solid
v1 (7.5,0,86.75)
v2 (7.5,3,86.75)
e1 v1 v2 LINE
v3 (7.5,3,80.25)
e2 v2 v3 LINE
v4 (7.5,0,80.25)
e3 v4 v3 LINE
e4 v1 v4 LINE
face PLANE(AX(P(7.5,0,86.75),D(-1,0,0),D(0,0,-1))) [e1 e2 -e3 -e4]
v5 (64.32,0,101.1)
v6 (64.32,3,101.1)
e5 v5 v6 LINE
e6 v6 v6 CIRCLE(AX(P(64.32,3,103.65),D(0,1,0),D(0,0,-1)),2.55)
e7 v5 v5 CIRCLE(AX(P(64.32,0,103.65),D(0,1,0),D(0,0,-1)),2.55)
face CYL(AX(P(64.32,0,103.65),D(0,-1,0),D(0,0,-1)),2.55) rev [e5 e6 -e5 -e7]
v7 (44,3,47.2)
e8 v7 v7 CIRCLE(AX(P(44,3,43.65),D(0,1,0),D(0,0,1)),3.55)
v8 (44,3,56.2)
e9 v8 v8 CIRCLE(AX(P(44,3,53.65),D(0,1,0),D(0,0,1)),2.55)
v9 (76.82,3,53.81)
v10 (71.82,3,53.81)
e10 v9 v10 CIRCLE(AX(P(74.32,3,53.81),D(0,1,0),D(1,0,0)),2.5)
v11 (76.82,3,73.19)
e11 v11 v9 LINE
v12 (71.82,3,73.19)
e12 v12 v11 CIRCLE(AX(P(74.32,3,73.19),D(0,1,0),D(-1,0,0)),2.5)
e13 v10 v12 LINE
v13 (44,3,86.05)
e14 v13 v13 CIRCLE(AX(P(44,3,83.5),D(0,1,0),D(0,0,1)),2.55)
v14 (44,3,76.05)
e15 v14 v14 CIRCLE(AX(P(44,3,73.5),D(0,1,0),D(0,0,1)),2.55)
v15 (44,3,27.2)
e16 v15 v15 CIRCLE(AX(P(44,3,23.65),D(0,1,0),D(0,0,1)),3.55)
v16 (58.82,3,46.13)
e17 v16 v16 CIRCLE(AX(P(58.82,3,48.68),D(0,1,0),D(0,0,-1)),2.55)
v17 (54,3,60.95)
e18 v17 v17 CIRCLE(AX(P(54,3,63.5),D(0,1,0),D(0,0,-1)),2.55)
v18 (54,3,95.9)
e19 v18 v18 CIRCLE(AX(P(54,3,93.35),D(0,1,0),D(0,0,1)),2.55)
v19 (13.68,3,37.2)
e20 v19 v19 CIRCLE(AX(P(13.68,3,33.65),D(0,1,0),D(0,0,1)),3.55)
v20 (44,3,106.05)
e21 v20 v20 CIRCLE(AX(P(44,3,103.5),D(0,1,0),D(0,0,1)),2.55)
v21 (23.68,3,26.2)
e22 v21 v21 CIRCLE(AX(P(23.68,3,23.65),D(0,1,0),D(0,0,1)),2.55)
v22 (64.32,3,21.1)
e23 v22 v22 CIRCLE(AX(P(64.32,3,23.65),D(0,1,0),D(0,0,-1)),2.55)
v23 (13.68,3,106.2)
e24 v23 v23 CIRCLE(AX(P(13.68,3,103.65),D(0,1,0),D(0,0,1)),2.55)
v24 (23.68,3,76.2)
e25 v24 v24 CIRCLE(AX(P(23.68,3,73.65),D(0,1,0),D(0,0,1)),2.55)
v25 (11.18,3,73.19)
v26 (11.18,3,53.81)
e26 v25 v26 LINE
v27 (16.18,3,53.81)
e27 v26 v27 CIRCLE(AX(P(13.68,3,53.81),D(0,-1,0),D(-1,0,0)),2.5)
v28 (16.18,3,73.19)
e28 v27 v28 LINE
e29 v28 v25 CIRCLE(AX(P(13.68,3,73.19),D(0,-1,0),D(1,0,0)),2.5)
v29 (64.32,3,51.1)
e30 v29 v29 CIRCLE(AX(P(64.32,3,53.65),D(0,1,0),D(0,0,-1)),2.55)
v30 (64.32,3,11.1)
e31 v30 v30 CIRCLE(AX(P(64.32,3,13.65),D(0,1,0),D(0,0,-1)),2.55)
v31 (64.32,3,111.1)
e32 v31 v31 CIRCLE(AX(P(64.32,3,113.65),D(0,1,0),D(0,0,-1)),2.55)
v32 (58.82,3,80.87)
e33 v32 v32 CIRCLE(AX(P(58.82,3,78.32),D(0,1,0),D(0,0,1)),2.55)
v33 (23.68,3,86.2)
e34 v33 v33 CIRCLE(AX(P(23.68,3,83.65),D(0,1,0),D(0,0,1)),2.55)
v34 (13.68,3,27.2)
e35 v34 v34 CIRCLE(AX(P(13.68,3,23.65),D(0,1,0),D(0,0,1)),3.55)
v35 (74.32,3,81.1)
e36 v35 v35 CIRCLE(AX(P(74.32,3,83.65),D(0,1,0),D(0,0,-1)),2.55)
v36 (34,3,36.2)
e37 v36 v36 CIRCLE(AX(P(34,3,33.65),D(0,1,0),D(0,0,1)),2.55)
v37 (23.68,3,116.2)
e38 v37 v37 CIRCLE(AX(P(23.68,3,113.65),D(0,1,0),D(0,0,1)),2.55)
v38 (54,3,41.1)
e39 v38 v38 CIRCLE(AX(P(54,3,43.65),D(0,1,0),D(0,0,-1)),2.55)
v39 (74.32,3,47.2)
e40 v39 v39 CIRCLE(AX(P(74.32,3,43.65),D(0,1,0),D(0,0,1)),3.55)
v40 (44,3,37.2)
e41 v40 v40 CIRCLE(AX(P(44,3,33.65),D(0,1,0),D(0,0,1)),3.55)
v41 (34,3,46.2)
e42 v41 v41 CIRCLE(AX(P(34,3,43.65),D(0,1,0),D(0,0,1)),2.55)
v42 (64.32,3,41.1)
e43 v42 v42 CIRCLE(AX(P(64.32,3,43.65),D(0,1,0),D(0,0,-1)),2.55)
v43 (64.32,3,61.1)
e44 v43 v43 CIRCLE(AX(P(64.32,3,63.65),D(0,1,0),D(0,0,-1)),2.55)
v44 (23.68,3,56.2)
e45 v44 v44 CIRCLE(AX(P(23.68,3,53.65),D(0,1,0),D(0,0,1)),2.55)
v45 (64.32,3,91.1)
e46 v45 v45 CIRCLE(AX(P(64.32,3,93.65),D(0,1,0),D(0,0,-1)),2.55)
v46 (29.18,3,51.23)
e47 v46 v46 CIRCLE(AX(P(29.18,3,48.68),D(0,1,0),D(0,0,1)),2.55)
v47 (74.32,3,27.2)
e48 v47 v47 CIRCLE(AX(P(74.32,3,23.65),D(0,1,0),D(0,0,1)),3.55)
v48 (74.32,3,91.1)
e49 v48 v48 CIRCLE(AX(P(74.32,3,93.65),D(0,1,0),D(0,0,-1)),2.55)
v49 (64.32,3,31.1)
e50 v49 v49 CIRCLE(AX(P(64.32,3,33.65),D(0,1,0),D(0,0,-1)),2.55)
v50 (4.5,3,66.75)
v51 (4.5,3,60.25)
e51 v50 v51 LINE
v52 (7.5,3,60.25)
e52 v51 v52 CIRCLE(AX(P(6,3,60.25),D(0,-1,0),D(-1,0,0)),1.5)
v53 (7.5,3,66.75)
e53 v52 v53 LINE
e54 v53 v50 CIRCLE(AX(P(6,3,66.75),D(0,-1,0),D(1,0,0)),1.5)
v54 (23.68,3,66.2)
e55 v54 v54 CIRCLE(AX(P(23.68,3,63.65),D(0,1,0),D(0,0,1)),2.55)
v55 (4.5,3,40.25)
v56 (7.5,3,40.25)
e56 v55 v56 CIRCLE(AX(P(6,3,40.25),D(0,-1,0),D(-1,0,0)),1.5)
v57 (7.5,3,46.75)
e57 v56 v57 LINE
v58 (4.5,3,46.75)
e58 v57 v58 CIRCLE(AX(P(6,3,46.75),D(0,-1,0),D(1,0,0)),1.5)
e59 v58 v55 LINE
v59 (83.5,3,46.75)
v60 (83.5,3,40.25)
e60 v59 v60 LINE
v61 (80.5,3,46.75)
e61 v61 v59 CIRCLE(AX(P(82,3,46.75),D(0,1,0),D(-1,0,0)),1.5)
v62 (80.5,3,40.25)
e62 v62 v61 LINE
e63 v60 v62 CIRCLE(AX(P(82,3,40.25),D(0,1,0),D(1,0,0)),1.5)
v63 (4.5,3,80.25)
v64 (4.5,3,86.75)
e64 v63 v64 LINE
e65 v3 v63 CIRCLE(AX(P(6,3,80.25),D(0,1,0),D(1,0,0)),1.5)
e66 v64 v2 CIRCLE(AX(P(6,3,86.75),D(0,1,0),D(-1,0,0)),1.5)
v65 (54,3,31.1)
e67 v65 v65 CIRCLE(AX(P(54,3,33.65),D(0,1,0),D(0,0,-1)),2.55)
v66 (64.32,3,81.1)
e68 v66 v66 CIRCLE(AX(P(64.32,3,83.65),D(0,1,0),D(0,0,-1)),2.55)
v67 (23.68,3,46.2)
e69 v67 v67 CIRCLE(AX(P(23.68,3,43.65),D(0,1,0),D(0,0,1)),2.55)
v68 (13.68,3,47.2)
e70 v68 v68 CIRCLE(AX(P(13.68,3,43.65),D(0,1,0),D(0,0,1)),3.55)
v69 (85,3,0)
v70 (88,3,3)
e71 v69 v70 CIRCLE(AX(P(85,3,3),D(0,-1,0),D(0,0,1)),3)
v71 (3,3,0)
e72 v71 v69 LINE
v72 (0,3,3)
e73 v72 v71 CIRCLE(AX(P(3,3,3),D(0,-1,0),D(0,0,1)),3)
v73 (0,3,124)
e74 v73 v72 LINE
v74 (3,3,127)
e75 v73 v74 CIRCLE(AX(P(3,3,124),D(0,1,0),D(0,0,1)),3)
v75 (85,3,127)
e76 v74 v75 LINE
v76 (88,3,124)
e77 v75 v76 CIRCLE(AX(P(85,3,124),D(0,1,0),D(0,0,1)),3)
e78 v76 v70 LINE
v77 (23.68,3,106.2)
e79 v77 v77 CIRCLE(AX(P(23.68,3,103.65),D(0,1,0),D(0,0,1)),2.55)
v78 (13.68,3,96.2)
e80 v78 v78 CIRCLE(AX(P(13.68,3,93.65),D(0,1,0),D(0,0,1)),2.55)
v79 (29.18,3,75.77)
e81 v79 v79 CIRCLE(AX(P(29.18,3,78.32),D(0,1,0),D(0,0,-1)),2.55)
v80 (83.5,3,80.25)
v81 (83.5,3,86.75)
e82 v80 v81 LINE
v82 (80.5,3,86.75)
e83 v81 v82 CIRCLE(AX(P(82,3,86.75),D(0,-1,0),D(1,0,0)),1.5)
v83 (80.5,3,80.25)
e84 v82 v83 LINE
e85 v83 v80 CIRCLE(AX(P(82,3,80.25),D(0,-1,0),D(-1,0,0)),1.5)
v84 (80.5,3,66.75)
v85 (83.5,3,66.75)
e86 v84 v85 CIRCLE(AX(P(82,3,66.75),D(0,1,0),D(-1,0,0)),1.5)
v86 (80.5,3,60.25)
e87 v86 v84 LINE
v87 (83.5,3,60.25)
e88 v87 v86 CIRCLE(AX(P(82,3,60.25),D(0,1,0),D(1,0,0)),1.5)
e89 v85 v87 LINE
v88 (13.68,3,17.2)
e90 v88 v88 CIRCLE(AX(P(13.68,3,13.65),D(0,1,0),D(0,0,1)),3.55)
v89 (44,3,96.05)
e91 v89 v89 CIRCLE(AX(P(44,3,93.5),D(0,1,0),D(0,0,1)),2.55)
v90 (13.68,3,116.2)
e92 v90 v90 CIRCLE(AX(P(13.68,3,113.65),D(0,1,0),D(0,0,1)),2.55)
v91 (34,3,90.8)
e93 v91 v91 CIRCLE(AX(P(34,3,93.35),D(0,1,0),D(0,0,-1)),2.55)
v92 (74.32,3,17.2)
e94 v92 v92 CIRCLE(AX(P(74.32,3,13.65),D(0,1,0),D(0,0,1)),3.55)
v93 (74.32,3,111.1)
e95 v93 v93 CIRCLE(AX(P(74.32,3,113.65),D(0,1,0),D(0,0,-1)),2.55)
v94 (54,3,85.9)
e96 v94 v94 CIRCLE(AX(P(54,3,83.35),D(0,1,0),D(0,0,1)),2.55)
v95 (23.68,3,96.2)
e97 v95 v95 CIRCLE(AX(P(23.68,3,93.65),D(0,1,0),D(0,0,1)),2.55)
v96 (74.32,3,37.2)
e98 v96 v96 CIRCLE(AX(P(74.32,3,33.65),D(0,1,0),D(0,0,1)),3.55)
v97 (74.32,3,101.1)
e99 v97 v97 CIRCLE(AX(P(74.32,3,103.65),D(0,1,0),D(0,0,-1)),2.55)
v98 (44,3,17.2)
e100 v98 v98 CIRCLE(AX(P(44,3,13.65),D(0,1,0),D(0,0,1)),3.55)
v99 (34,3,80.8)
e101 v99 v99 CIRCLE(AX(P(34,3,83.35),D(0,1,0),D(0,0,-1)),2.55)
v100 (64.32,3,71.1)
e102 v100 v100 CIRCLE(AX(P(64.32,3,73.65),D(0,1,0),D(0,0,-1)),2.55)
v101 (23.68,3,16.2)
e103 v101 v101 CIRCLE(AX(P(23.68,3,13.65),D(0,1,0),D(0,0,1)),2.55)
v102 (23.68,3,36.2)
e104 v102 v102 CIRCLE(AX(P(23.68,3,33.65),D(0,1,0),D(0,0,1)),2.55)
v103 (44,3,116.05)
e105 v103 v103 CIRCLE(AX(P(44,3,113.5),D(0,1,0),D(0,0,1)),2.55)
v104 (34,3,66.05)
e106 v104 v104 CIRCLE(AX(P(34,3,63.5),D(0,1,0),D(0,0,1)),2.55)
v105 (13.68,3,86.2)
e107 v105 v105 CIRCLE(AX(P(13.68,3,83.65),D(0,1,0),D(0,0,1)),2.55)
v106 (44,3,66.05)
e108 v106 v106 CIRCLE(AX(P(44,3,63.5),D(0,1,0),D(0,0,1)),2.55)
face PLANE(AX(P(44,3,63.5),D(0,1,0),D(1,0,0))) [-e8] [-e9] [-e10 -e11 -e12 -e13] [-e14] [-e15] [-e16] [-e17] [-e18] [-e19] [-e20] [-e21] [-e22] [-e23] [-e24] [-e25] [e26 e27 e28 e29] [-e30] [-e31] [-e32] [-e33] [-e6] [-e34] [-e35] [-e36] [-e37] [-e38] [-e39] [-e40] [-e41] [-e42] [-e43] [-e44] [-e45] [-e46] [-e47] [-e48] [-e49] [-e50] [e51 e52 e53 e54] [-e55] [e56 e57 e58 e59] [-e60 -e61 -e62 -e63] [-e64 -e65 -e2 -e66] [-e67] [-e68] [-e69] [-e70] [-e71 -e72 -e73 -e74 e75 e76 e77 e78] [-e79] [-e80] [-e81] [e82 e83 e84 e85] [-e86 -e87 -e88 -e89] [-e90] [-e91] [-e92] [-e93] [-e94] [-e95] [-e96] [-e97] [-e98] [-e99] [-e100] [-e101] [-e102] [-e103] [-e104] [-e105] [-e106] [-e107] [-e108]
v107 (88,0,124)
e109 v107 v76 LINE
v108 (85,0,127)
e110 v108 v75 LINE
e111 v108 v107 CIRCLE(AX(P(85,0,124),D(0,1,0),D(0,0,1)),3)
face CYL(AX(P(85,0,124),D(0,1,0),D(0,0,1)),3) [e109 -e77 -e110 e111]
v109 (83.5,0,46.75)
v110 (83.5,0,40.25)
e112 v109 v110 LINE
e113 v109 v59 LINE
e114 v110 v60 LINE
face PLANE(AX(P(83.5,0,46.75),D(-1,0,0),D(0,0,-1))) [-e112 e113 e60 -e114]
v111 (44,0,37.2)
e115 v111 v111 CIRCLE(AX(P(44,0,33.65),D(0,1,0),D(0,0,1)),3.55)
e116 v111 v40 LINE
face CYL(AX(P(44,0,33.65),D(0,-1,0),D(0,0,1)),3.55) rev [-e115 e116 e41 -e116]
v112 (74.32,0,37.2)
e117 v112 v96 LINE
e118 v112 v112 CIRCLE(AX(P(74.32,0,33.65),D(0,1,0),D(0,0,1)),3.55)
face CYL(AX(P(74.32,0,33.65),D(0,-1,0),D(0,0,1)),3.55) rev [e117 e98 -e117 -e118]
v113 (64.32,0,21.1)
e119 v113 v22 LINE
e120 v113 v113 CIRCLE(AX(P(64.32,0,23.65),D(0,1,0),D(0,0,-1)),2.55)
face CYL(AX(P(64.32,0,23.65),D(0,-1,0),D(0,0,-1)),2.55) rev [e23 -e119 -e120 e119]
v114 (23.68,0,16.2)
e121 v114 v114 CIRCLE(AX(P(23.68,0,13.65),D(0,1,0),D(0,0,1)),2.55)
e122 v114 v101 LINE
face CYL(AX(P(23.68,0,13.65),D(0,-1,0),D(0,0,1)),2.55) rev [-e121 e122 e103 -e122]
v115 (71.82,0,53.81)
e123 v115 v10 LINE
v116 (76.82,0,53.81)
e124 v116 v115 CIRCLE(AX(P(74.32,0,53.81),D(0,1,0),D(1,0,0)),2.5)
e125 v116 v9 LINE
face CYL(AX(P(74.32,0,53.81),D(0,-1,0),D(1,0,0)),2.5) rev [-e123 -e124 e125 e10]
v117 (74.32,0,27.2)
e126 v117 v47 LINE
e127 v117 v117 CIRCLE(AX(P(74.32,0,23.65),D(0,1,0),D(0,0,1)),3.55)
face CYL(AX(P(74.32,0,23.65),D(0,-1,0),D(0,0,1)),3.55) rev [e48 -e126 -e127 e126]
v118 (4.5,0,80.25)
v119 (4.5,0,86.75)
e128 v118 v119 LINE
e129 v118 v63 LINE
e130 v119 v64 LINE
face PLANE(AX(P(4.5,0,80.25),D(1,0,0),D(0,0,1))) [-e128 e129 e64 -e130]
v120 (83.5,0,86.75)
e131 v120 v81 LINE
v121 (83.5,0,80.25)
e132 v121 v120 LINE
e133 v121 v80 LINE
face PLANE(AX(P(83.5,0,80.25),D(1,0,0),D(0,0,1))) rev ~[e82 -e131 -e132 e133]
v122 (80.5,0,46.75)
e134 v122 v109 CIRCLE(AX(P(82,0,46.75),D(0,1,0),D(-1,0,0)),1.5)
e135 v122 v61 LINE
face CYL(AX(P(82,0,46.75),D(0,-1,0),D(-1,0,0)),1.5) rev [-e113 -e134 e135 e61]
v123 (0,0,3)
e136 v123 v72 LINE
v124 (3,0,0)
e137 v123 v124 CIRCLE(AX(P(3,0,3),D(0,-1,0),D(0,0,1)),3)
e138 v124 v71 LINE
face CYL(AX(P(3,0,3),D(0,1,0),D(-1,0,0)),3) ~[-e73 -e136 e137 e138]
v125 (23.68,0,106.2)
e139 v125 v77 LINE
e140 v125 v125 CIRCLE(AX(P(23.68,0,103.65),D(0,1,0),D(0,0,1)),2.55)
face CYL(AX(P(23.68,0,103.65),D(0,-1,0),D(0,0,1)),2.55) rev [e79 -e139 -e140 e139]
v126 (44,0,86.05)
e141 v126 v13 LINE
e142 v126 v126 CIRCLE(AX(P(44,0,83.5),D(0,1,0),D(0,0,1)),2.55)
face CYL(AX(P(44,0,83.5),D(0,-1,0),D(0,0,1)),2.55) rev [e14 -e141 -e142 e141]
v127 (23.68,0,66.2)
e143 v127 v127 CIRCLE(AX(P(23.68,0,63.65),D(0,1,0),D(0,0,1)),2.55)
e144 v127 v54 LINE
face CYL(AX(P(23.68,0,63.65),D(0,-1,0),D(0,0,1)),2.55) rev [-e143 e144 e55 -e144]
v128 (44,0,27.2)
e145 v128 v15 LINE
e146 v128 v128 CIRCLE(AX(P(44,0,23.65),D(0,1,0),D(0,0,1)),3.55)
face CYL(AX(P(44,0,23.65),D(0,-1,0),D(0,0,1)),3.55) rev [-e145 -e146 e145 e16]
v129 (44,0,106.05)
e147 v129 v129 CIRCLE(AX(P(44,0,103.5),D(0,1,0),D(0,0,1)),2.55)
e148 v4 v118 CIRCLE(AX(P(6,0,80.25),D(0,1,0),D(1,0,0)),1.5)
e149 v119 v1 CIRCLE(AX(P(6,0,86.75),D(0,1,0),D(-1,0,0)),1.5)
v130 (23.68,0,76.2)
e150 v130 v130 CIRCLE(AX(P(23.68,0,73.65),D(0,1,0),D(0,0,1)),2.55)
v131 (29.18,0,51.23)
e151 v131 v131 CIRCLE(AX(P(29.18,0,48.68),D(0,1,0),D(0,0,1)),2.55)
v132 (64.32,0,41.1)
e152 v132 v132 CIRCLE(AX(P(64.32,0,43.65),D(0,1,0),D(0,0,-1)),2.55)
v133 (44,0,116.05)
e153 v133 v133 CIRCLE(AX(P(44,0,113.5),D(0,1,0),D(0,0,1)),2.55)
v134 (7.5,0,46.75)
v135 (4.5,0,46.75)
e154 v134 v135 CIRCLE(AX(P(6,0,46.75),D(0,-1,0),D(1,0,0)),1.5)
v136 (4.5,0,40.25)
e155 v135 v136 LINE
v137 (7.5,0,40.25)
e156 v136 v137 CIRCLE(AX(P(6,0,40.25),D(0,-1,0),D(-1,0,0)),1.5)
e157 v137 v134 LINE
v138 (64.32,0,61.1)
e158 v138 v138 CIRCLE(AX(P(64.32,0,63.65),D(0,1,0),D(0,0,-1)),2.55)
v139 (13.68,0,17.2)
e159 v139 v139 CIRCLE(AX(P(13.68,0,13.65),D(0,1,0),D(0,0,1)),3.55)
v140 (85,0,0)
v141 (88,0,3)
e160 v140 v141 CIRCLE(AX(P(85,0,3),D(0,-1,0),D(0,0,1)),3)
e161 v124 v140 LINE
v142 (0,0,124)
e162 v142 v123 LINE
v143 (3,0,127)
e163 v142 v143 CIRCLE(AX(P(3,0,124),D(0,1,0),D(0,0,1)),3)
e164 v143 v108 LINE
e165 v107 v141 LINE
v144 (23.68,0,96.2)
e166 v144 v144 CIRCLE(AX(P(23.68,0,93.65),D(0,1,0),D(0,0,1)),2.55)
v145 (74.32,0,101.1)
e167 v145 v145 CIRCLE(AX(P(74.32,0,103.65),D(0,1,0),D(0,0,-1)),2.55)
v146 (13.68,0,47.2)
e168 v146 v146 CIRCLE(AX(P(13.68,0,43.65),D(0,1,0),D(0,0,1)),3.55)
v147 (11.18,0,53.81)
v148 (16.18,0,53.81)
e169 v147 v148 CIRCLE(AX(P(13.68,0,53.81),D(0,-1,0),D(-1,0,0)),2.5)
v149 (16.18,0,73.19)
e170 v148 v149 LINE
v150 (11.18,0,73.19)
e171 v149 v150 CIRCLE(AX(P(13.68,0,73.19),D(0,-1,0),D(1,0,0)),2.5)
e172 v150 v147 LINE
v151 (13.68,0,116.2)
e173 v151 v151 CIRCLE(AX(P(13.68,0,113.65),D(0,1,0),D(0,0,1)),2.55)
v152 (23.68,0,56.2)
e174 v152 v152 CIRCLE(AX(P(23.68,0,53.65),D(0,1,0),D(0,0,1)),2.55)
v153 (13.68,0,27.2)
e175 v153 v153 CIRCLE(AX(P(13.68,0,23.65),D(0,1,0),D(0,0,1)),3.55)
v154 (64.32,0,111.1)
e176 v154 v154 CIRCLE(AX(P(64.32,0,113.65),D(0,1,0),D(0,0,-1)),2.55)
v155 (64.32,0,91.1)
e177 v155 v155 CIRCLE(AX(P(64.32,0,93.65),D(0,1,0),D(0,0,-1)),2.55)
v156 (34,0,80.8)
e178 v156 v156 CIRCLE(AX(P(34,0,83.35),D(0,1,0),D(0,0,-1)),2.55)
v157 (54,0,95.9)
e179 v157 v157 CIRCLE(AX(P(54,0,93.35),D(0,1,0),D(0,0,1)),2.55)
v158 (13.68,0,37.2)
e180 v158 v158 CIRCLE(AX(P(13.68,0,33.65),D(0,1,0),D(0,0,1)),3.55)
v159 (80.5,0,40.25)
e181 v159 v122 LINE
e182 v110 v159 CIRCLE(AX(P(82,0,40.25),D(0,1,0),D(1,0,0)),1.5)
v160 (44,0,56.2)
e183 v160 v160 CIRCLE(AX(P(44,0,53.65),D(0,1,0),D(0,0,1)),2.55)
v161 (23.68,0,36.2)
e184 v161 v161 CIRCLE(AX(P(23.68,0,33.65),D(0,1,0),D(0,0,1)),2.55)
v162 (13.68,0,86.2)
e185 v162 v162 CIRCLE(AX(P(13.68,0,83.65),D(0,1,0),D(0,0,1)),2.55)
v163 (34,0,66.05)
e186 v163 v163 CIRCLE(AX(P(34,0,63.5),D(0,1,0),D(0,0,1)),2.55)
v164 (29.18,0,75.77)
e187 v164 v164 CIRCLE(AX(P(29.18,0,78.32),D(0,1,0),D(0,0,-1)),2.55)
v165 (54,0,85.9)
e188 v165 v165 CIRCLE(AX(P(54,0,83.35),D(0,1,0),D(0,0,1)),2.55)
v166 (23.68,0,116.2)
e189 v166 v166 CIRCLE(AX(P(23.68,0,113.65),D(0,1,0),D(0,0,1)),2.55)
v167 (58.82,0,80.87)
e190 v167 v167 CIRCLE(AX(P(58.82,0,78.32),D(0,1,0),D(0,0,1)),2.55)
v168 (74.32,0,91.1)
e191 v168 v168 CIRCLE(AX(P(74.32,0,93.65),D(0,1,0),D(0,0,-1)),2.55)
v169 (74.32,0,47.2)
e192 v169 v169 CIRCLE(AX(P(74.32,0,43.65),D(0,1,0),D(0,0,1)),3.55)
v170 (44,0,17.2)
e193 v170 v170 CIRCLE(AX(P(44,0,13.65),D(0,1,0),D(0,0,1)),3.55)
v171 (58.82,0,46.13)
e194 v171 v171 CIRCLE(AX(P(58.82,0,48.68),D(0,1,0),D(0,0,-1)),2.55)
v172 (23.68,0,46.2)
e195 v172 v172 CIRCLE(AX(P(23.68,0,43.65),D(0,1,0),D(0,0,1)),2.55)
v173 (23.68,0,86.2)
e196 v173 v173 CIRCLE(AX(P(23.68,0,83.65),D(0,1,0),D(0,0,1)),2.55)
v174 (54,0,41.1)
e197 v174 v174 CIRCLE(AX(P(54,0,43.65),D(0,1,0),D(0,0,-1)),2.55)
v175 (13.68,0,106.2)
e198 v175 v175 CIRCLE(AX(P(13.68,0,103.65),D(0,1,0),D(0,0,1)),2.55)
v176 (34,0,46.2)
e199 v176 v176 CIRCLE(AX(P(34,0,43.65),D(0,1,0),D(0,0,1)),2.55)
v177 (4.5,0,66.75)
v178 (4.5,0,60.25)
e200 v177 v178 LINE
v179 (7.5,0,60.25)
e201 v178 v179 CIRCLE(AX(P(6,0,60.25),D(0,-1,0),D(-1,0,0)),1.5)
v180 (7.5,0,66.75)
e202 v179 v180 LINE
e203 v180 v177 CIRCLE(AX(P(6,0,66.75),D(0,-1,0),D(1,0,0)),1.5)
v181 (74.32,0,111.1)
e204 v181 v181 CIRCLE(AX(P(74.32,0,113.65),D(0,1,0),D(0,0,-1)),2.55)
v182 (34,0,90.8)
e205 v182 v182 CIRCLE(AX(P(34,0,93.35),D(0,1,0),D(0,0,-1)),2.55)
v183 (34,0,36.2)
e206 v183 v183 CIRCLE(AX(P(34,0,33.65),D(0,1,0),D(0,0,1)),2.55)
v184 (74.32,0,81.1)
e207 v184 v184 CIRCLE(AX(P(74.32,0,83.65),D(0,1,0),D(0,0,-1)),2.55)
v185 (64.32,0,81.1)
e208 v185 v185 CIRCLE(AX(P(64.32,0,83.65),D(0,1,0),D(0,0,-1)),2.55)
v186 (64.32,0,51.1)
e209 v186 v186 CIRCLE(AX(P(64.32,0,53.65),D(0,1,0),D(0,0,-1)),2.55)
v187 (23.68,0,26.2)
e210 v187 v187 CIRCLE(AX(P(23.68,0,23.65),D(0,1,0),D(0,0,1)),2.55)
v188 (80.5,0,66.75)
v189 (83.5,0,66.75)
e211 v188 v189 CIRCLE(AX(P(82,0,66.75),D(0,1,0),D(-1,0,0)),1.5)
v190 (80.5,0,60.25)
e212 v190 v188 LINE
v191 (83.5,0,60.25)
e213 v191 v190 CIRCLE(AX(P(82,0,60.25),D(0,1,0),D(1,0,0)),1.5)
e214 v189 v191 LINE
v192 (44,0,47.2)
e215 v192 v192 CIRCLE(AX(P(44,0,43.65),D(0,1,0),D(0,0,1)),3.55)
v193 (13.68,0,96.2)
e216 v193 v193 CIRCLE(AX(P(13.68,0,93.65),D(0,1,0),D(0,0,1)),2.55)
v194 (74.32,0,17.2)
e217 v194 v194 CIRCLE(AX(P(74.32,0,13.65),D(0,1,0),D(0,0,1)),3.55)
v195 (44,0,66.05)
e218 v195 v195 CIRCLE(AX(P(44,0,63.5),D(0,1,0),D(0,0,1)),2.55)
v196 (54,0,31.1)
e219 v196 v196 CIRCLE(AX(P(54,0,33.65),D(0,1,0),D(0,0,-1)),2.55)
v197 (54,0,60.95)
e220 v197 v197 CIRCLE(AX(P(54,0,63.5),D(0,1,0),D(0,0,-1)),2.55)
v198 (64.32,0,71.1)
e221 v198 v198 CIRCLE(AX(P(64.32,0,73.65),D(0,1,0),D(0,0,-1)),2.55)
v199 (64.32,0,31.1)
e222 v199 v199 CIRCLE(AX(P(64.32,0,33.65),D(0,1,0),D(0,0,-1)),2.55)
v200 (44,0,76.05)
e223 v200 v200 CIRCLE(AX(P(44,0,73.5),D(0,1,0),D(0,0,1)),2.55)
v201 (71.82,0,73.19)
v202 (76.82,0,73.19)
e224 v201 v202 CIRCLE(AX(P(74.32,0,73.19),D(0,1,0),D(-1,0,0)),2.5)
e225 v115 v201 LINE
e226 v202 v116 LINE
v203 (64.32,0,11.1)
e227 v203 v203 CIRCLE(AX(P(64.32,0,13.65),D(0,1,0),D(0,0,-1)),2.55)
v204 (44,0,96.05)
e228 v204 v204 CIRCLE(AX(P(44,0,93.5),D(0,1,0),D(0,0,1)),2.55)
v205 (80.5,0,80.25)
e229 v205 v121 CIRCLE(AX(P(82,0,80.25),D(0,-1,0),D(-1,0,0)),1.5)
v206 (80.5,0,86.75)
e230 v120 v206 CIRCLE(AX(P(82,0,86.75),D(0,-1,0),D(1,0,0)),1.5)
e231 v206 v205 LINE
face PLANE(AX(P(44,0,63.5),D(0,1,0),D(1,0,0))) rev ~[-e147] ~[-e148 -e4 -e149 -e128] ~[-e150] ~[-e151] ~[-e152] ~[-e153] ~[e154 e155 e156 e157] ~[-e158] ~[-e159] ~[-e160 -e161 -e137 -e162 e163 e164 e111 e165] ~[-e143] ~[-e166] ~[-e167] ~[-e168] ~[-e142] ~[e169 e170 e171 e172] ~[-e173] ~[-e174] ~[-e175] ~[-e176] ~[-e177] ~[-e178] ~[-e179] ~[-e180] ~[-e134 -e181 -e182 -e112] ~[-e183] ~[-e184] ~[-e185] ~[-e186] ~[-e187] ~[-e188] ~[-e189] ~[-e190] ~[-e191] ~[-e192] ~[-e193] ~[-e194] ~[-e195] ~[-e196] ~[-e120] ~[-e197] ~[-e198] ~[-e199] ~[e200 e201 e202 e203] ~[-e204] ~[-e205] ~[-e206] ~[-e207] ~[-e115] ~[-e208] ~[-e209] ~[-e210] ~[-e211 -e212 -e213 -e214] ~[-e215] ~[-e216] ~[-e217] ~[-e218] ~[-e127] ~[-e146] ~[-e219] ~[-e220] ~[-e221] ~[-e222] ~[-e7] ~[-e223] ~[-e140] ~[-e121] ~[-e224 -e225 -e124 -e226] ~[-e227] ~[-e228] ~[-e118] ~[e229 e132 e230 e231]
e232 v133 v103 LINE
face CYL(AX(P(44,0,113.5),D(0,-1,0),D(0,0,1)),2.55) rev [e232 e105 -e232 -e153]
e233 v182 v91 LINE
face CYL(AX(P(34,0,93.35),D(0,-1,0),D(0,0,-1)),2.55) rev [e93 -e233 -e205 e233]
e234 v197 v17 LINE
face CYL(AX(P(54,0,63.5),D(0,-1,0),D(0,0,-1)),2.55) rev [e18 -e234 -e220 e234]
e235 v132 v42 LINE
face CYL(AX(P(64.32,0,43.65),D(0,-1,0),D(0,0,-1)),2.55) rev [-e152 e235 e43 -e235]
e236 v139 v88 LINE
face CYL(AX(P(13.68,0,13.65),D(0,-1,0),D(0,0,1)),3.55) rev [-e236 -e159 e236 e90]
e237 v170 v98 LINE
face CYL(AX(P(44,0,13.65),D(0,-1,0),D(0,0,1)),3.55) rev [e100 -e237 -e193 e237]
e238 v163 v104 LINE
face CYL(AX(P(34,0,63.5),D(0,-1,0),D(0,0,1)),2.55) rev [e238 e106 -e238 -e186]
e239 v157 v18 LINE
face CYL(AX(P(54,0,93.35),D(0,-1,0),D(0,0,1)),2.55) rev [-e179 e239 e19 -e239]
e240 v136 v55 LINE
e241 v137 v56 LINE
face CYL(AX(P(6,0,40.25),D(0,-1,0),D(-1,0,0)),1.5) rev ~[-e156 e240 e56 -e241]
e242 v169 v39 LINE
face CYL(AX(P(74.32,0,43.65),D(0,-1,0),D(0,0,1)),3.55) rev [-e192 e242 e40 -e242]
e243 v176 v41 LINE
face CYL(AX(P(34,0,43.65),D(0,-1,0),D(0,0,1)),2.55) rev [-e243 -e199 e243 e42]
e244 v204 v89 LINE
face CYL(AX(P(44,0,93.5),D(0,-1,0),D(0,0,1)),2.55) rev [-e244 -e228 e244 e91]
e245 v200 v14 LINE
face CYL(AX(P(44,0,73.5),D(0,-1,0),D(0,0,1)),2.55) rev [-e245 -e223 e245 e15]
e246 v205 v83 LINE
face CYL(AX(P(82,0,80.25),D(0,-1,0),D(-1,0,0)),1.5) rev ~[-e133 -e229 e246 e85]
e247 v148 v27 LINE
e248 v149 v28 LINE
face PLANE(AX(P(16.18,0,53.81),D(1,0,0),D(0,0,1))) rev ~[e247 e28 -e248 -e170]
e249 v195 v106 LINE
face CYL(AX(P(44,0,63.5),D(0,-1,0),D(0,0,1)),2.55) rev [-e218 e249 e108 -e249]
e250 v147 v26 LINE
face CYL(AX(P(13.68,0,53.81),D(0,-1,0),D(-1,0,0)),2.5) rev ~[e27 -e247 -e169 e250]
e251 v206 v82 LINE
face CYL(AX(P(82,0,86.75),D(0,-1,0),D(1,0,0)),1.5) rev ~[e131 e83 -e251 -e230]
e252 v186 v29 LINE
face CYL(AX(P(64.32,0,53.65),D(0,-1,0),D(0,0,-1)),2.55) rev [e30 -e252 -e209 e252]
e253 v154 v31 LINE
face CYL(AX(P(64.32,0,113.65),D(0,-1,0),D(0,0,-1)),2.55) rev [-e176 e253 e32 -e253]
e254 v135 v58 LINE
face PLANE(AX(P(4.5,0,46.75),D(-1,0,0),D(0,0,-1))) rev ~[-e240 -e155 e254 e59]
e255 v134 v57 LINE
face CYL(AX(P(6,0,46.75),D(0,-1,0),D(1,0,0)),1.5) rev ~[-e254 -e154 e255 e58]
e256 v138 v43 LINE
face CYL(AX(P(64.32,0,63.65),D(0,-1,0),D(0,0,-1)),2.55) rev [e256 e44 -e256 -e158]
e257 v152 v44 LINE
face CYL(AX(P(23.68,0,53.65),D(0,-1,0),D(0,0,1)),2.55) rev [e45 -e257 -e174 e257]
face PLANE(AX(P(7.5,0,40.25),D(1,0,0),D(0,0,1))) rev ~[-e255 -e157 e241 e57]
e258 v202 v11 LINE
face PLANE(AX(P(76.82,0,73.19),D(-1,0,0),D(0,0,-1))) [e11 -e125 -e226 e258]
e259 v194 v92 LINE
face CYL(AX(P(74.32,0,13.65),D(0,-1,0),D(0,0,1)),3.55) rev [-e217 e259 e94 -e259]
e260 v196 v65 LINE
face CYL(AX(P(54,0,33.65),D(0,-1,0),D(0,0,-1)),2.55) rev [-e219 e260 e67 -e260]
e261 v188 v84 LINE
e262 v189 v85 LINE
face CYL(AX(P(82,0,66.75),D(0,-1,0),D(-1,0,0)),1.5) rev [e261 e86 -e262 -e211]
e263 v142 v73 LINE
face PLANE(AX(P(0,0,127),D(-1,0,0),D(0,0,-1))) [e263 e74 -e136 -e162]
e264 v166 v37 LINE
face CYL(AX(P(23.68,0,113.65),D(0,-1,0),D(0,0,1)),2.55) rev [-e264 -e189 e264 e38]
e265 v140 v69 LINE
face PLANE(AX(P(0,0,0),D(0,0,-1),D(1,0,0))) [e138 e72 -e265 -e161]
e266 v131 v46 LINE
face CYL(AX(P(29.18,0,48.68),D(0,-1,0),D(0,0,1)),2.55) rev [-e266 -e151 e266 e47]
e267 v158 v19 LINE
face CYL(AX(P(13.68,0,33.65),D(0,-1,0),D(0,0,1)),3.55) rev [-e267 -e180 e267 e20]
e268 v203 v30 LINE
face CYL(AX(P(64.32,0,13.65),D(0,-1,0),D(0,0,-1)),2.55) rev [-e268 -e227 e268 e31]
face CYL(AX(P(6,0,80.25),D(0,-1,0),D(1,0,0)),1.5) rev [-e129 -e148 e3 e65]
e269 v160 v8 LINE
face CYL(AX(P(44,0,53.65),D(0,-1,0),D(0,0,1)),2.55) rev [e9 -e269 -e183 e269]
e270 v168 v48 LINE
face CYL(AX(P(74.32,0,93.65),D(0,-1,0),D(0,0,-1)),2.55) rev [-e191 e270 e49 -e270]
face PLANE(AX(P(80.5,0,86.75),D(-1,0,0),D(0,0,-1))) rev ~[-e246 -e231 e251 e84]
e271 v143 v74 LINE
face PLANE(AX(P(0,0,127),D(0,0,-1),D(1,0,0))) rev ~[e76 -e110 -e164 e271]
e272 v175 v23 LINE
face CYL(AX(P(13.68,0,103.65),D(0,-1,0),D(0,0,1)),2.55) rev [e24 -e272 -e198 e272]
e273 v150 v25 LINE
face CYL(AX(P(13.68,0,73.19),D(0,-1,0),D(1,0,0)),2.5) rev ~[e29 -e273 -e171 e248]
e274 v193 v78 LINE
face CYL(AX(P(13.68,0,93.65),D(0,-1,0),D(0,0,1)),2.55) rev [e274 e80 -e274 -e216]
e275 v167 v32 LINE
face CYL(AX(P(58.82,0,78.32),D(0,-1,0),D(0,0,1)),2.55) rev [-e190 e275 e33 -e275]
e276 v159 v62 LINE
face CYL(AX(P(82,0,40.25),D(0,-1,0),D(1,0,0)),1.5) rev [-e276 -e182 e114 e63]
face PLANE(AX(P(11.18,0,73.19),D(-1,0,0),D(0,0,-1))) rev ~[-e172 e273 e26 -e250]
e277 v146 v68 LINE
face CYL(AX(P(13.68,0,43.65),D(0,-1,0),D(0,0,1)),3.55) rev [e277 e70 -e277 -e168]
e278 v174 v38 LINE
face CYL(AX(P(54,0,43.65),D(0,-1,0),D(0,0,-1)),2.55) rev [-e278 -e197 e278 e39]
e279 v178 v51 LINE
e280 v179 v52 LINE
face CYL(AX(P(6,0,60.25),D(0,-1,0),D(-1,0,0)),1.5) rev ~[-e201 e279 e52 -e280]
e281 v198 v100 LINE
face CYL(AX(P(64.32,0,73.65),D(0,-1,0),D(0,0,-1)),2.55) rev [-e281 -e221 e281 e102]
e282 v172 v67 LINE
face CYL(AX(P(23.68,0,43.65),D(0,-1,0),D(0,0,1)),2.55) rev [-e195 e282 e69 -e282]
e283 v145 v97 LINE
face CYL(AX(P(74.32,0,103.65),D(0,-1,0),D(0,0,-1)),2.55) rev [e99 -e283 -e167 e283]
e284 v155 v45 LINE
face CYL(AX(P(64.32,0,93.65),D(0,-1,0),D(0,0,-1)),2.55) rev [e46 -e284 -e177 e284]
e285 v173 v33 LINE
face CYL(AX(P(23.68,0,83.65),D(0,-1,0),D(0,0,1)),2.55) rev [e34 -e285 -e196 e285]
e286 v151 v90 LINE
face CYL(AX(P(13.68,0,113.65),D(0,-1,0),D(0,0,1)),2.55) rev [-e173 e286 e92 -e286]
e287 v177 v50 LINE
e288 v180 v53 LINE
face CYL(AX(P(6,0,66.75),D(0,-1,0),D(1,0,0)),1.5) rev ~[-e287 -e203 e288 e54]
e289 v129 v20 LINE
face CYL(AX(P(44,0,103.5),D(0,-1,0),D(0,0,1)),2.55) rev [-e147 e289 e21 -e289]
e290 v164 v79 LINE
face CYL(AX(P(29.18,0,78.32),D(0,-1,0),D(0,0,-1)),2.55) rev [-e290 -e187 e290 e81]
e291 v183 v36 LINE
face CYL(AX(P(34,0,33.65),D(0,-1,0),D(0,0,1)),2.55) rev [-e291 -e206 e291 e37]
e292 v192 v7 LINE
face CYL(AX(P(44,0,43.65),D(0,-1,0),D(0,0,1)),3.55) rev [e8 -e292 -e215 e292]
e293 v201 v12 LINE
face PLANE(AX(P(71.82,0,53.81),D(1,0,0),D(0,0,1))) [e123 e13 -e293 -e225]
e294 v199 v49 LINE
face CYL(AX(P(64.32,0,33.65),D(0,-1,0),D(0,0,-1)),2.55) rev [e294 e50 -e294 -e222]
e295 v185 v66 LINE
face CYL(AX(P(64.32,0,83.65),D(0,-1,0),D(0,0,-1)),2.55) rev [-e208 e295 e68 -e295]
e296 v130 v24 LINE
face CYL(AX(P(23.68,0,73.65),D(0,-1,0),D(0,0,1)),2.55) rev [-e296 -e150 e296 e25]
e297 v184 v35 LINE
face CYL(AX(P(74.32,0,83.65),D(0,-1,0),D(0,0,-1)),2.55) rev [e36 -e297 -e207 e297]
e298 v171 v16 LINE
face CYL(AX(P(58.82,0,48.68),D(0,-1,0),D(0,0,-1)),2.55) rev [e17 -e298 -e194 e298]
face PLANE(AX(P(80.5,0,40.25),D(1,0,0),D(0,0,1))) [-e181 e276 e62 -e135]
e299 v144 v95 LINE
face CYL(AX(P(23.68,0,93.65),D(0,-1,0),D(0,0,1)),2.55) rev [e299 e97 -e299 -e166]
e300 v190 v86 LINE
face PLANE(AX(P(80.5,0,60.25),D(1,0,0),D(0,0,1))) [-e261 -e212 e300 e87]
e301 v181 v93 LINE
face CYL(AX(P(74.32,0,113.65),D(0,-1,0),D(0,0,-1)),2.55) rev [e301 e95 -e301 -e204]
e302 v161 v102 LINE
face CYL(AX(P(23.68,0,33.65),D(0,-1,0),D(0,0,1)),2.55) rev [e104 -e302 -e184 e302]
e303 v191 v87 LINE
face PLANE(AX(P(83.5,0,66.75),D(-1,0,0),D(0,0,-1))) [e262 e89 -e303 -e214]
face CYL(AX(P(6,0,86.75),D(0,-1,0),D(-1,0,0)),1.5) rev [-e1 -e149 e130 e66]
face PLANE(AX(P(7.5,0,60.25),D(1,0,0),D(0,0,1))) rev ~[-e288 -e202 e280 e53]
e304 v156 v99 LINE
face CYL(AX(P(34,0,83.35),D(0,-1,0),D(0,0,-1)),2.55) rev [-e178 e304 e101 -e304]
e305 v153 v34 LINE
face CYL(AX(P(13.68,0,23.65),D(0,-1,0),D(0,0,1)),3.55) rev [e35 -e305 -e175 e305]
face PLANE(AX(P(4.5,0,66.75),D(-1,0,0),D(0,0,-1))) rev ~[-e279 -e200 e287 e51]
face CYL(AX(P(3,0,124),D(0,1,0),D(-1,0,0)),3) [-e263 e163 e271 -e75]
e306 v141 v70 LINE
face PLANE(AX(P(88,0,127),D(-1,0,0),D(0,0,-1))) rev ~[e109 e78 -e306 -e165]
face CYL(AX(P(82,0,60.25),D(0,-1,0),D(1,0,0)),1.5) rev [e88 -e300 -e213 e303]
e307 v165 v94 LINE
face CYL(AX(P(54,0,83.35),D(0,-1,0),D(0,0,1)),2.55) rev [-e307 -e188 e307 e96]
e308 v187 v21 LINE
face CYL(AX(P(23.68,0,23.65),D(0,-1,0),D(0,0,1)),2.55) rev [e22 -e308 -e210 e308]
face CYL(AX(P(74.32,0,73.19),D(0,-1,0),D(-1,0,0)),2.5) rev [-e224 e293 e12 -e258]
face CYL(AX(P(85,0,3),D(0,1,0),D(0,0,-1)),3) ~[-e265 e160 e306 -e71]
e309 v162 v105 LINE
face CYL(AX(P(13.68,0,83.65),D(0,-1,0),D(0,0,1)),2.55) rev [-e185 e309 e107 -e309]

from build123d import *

# Parameters (mm, degrees)
SKETCH_1_W      = 88
SKETCH_1_H      = 127
SKETCH_1_R      = 3.55
SKETCH_1_R_2    = 2.55
EXTRUDE_1_DEPTH = 3
FILLET_1_R      = 3


with BuildPart() as part:
    # 草图1 → 凸台-拉伸1 (new body)
    with BuildSketch(Plane(origin=(0, 0, 0), x_dir=(1, 0, 0), z_dir=(0, 1, 0))):
        with Locations((44, -63.5)):
            Rectangle(SKETCH_1_W, SKETCH_1_H)
        with Locations(Location((13.68, -13.65, 0), (0, 0, 270))):
            Circle(SKETCH_1_R, mode=Mode.SUBTRACT)
        with Locations(Location((44, -13.65, 0), (0, 0, 270))):
            Circle(SKETCH_1_R, mode=Mode.SUBTRACT)
        with Locations(Location((74.32, -13.65, 0), (0, 0, 270))):
            Circle(SKETCH_1_R, mode=Mode.SUBTRACT)
        with Locations(Location((44, -23.65, 0), (0, 0, 270))):
            Circle(SKETCH_1_R, mode=Mode.SUBTRACT)
        with Locations(Location((74.32, -23.65, 0), (0, 0, 270))):
            Circle(SKETCH_1_R, mode=Mode.SUBTRACT)
        with Locations(Location((44, -33.65, 0), (0, 0, 270))):
            Circle(SKETCH_1_R, mode=Mode.SUBTRACT)
        with Locations(Location((74.32, -33.65, 0), (0, 0, 270))):
            Circle(SKETCH_1_R, mode=Mode.SUBTRACT)
        with Locations(Location((44, -43.65, 0), (0, 0, 270))):
            Circle(SKETCH_1_R, mode=Mode.SUBTRACT)
        with Locations(Location((74.32, -43.65, 0), (0, 0, 270))):
            Circle(SKETCH_1_R, mode=Mode.SUBTRACT)
        with Locations(Location((13.68, -23.65, 0), (0, 0, 270))):
            Circle(SKETCH_1_R, mode=Mode.SUBTRACT)
        with Locations(Location((13.68, -33.65, 0), (0, 0, 270))):
            Circle(SKETCH_1_R, mode=Mode.SUBTRACT)
        with Locations(Location((13.68, -43.65, 0), (0, 0, 270))):
            Circle(SKETCH_1_R, mode=Mode.SUBTRACT)
        with Locations(Location((23.68, -13.65, 0), (0, 0, 270))):
            Circle(SKETCH_1_R_2, mode=Mode.SUBTRACT)
        with Locations(Location((64.32, -13.65, 0), (0, 0, 90))):
            Circle(SKETCH_1_R_2, mode=Mode.SUBTRACT)
        with Locations(Location((23.68, -23.65, 0), (0, 0, 270))):
            Circle(SKETCH_1_R_2, mode=Mode.SUBTRACT)
        with Locations(Location((64.32, -23.65, 0), (0, 0, 90))):
            Circle(SKETCH_1_R_2, mode=Mode.SUBTRACT)
        with Locations(Location((23.68, -33.65, 0), (0, 0, 270))):
            Circle(SKETCH_1_R_2, mode=Mode.SUBTRACT)
        with Locations(Location((64.32, -33.65, 0), (0, 0, 90))):
            Circle(SKETCH_1_R_2, mode=Mode.SUBTRACT)
        with Locations(Location((23.68, -43.65, 0), (0, 0, 270))):
            Circle(SKETCH_1_R_2, mode=Mode.SUBTRACT)
        with Locations(Location((64.32, -43.65, 0), (0, 0, 90))):
            Circle(SKETCH_1_R_2, mode=Mode.SUBTRACT)
        with Locations(Location((23.68, -53.65, 0), (0, 0, 270))):
            Circle(SKETCH_1_R_2, mode=Mode.SUBTRACT)
        with Locations(Location((64.32, -53.65, 0), (0, 0, 90))):
            Circle(SKETCH_1_R_2, mode=Mode.SUBTRACT)
        with Locations(Location((23.68, -63.65, 0), (0, 0, 270))):
            Circle(SKETCH_1_R_2, mode=Mode.SUBTRACT)
        with Locations(Location((64.32, -63.65, 0), (0, 0, 90))):
            Circle(SKETCH_1_R_2, mode=Mode.SUBTRACT)
        with Locations(Location((23.68, -73.65, 0), (0, 0, 270))):
            Circle(SKETCH_1_R_2, mode=Mode.SUBTRACT)
        with Locations(Location((64.32, -73.65, 0), (0, 0, 90))):
            Circle(SKETCH_1_R_2, mode=Mode.SUBTRACT)
        with Locations(Location((23.68, -83.65, 0), (0, 0, 270))):
            Circle(SKETCH_1_R_2, mode=Mode.SUBTRACT)
        with Locations(Location((64.32, -83.65, 0), (0, 0, 90))):
            Circle(SKETCH_1_R_2, mode=Mode.SUBTRACT)
        with Locations(Location((23.68, -93.65, 0), (0, 0, 270))):
            Circle(SKETCH_1_R_2, mode=Mode.SUBTRACT)
        with Locations(Location((64.32, -93.65, 0), (0, 0, 90))):
            Circle(SKETCH_1_R_2, mode=Mode.SUBTRACT)
        with Locations(Location((23.68, -103.65, 0), (0, 0, 270))):
            Circle(SKETCH_1_R_2, mode=Mode.SUBTRACT)
        with Locations(Location((64.32, -103.65, 0), (0, 0, 90))):
            Circle(SKETCH_1_R_2, mode=Mode.SUBTRACT)
        with Locations(Location((23.68, -113.65, 0), (0, 0, 270))):
            Circle(SKETCH_1_R_2, mode=Mode.SUBTRACT)
        with Locations(Location((64.32, -113.65, 0), (0, 0, 90))):
            Circle(SKETCH_1_R_2, mode=Mode.SUBTRACT)
        with Locations(Location((29.18, -48.68, 0), (0, 0, 270))):
            Circle(SKETCH_1_R_2, mode=Mode.SUBTRACT)
        with Locations(Location((29.18, -78.32, 0), (0, 0, 90))):
            Circle(SKETCH_1_R_2, mode=Mode.SUBTRACT)
        with Locations(Location((58.82, -48.68, 0), (0, 0, 90))):
            Circle(SKETCH_1_R_2, mode=Mode.SUBTRACT)
        with Locations(Location((58.82, -78.32, 0), (0, 0, 270))):
            Circle(SKETCH_1_R_2, mode=Mode.SUBTRACT)
        with Locations(Location((34, -63.5, 0), (0, 0, 270))):
            Circle(SKETCH_1_R_2, mode=Mode.SUBTRACT)
        with Locations(Location((54, -63.5, 0), (0, 0, 90))):
            Circle(SKETCH_1_R_2, mode=Mode.SUBTRACT)
        with Locations(Location((44, -63.5, 0), (0, 0, 270))):
            Circle(SKETCH_1_R_2, mode=Mode.SUBTRACT)
        with Locations(Location((34, -33.65, 0), (0, 0, 270))):
            Circle(SKETCH_1_R_2, mode=Mode.SUBTRACT)
        with Locations(Location((34, -43.65, 0), (0, 0, 270))):
            Circle(SKETCH_1_R_2, mode=Mode.SUBTRACT)
        with Locations(Location((54, -43.65, 0), (0, 0, 90))):
            Circle(SKETCH_1_R_2, mode=Mode.SUBTRACT)
        with Locations(Location((54, -33.65, 0), (0, 0, 90))):
            Circle(SKETCH_1_R_2, mode=Mode.SUBTRACT)
        with Locations(Location((54, -93.35, 0), (0, 0, 270))):
            Circle(SKETCH_1_R_2, mode=Mode.SUBTRACT)
        with Locations(Location((54, -83.35, 0), (0, 0, 270))):
            Circle(SKETCH_1_R_2, mode=Mode.SUBTRACT)
        with Locations(Location((34, -83.35, 0), (0, 0, 90))):
            Circle(SKETCH_1_R_2, mode=Mode.SUBTRACT)
        with Locations(Location((34, -93.35, 0), (0, 0, 90))):
            Circle(SKETCH_1_R_2, mode=Mode.SUBTRACT)
        with Locations(Location((44, -53.65, 0), (0, 0, 270))):
            Circle(SKETCH_1_R_2, mode=Mode.SUBTRACT)
        with Locations(Location((44, -73.5, 0), (0, 0, 270))):
            Circle(SKETCH_1_R_2, mode=Mode.SUBTRACT)
        with Locations(Location((44, -83.5, 0), (0, 0, 270))):
            Circle(SKETCH_1_R_2, mode=Mode.SUBTRACT)
        with Locations(Location((44, -93.5, 0), (0, 0, 270))):
            Circle(SKETCH_1_R_2, mode=Mode.SUBTRACT)
        with Locations(Location((44, -103.5, 0), (0, 0, 270))):
            Circle(SKETCH_1_R_2, mode=Mode.SUBTRACT)
        with Locations(Location((44, -113.5, 0), (0, 0, 270))):
            Circle(SKETCH_1_R_2, mode=Mode.SUBTRACT)
        with Locations(Location((13.68, -83.65, 0), (0, 0, 270))):
            Circle(SKETCH_1_R_2, mode=Mode.SUBTRACT)
        with Locations(Location((74.32, -83.65, 0), (0, 0, 90))):
            Circle(SKETCH_1_R_2, mode=Mode.SUBTRACT)
        with Locations(Location((13.68, -93.65, 0), (0, 0, 270))):
            Circle(SKETCH_1_R_2, mode=Mode.SUBTRACT)
        with Locations(Location((74.32, -93.65, 0), (0, 0, 90))):
            Circle(SKETCH_1_R_2, mode=Mode.SUBTRACT)
        with Locations(Location((13.68, -103.65, 0), (0, 0, 270))):
            Circle(SKETCH_1_R_2, mode=Mode.SUBTRACT)
        with Locations(Location((74.32, -103.65, 0), (0, 0, 90))):
            Circle(SKETCH_1_R_2, mode=Mode.SUBTRACT)
        with Locations(Location((13.68, -113.65, 0), (0, 0, 270))):
            Circle(SKETCH_1_R_2, mode=Mode.SUBTRACT)
        with Locations(Location((74.32, -113.65, 0), (0, 0, 90))):
            Circle(SKETCH_1_R_2, mode=Mode.SUBTRACT)
        with BuildLine():
            Line((7.5, -40.25), (7.5, -46.75))
            ThreePointArc((7.5, -46.75), (6, -48.25), (4.5, -46.75))
            Line((4.5, -46.75), (4.5, -40.25))
            ThreePointArc((4.5, -40.25), (6, -38.75), (7.5, -40.25))
        make_face(mode=Mode.SUBTRACT)
        with BuildLine():
            Line((7.5, -60.25), (7.5, -66.75))
            ThreePointArc((7.5, -66.75), (6, -68.25), (4.5, -66.75))
            Line((4.5, -66.75), (4.5, -60.25))
            ThreePointArc((4.5, -60.25), (6, -58.75), (7.5, -60.25))
        make_face(mode=Mode.SUBTRACT)
        with BuildLine():
            Line((7.5, -86.75), (7.5, -80.25))
            ThreePointArc((7.5, -80.25), (6, -78.75), (4.5, -80.25))
            Line((4.5, -80.25), (4.5, -86.75))
            ThreePointArc((4.5, -86.75), (6, -88.25), (7.5, -86.75))
        make_face(mode=Mode.SUBTRACT)
        with BuildLine():
            Line((80.5, -86.75), (80.5, -80.25))
            ThreePointArc((80.5, -80.25), (82, -78.75), (83.5, -80.25))
            Line((83.5, -80.25), (83.5, -86.75))
            ThreePointArc((83.5, -86.75), (82, -88.25), (80.5, -86.75))
        make_face(mode=Mode.SUBTRACT)
        with BuildLine():
            Line((80.5, -60.25), (80.5, -66.75))
            ThreePointArc((80.5, -66.75), (82, -68.25), (83.5, -66.75))
            Line((83.5, -66.75), (83.5, -60.25))
            ThreePointArc((83.5, -60.25), (82, -58.75), (80.5, -60.25))
        make_face(mode=Mode.SUBTRACT)
        with BuildLine():
            Line((80.5, -40.25), (80.5, -46.75))
            ThreePointArc((80.5, -46.75), (82, -48.25), (83.5, -46.75))
            Line((83.5, -46.75), (83.5, -40.25))
            ThreePointArc((83.5, -40.25), (82, -38.75), (80.5, -40.25))
        make_face(mode=Mode.SUBTRACT)
        with BuildLine():
            Line((16.18, -53.81), (16.18, -73.19))
            ThreePointArc((16.18, -73.19), (13.68, -75.69), (11.18, -73.19))
            Line((11.18, -73.19), (11.18, -53.81))
            ThreePointArc((11.18, -53.81), (13.68, -51.31), (16.18, -53.81))
        make_face(mode=Mode.SUBTRACT)
        with BuildLine():
            Line((71.82, -53.81), (71.82, -73.19))
            ThreePointArc((71.82, -73.19), (74.32, -75.69), (76.82, -73.19))
            Line((76.82, -73.19), (76.82, -53.81))
            ThreePointArc((76.82, -53.81), (74.32, -51.31), (71.82, -53.81))
        make_face(mode=Mode.SUBTRACT)
    extrude(amount=EXTRUDE_1_DEPTH)

    # 圆角1
    fillet_1_edges = [part.edges().sort_by_distance(p)[0] for p in [
        (0, 1.5, 0),
        (88, 1.5, 0),
        (88, 1.5, 127),
        (0, 1.5, 127),
    ]]
    fillet(fillet_1_edges, radius=FILLET_1_R)


solid = part.part
